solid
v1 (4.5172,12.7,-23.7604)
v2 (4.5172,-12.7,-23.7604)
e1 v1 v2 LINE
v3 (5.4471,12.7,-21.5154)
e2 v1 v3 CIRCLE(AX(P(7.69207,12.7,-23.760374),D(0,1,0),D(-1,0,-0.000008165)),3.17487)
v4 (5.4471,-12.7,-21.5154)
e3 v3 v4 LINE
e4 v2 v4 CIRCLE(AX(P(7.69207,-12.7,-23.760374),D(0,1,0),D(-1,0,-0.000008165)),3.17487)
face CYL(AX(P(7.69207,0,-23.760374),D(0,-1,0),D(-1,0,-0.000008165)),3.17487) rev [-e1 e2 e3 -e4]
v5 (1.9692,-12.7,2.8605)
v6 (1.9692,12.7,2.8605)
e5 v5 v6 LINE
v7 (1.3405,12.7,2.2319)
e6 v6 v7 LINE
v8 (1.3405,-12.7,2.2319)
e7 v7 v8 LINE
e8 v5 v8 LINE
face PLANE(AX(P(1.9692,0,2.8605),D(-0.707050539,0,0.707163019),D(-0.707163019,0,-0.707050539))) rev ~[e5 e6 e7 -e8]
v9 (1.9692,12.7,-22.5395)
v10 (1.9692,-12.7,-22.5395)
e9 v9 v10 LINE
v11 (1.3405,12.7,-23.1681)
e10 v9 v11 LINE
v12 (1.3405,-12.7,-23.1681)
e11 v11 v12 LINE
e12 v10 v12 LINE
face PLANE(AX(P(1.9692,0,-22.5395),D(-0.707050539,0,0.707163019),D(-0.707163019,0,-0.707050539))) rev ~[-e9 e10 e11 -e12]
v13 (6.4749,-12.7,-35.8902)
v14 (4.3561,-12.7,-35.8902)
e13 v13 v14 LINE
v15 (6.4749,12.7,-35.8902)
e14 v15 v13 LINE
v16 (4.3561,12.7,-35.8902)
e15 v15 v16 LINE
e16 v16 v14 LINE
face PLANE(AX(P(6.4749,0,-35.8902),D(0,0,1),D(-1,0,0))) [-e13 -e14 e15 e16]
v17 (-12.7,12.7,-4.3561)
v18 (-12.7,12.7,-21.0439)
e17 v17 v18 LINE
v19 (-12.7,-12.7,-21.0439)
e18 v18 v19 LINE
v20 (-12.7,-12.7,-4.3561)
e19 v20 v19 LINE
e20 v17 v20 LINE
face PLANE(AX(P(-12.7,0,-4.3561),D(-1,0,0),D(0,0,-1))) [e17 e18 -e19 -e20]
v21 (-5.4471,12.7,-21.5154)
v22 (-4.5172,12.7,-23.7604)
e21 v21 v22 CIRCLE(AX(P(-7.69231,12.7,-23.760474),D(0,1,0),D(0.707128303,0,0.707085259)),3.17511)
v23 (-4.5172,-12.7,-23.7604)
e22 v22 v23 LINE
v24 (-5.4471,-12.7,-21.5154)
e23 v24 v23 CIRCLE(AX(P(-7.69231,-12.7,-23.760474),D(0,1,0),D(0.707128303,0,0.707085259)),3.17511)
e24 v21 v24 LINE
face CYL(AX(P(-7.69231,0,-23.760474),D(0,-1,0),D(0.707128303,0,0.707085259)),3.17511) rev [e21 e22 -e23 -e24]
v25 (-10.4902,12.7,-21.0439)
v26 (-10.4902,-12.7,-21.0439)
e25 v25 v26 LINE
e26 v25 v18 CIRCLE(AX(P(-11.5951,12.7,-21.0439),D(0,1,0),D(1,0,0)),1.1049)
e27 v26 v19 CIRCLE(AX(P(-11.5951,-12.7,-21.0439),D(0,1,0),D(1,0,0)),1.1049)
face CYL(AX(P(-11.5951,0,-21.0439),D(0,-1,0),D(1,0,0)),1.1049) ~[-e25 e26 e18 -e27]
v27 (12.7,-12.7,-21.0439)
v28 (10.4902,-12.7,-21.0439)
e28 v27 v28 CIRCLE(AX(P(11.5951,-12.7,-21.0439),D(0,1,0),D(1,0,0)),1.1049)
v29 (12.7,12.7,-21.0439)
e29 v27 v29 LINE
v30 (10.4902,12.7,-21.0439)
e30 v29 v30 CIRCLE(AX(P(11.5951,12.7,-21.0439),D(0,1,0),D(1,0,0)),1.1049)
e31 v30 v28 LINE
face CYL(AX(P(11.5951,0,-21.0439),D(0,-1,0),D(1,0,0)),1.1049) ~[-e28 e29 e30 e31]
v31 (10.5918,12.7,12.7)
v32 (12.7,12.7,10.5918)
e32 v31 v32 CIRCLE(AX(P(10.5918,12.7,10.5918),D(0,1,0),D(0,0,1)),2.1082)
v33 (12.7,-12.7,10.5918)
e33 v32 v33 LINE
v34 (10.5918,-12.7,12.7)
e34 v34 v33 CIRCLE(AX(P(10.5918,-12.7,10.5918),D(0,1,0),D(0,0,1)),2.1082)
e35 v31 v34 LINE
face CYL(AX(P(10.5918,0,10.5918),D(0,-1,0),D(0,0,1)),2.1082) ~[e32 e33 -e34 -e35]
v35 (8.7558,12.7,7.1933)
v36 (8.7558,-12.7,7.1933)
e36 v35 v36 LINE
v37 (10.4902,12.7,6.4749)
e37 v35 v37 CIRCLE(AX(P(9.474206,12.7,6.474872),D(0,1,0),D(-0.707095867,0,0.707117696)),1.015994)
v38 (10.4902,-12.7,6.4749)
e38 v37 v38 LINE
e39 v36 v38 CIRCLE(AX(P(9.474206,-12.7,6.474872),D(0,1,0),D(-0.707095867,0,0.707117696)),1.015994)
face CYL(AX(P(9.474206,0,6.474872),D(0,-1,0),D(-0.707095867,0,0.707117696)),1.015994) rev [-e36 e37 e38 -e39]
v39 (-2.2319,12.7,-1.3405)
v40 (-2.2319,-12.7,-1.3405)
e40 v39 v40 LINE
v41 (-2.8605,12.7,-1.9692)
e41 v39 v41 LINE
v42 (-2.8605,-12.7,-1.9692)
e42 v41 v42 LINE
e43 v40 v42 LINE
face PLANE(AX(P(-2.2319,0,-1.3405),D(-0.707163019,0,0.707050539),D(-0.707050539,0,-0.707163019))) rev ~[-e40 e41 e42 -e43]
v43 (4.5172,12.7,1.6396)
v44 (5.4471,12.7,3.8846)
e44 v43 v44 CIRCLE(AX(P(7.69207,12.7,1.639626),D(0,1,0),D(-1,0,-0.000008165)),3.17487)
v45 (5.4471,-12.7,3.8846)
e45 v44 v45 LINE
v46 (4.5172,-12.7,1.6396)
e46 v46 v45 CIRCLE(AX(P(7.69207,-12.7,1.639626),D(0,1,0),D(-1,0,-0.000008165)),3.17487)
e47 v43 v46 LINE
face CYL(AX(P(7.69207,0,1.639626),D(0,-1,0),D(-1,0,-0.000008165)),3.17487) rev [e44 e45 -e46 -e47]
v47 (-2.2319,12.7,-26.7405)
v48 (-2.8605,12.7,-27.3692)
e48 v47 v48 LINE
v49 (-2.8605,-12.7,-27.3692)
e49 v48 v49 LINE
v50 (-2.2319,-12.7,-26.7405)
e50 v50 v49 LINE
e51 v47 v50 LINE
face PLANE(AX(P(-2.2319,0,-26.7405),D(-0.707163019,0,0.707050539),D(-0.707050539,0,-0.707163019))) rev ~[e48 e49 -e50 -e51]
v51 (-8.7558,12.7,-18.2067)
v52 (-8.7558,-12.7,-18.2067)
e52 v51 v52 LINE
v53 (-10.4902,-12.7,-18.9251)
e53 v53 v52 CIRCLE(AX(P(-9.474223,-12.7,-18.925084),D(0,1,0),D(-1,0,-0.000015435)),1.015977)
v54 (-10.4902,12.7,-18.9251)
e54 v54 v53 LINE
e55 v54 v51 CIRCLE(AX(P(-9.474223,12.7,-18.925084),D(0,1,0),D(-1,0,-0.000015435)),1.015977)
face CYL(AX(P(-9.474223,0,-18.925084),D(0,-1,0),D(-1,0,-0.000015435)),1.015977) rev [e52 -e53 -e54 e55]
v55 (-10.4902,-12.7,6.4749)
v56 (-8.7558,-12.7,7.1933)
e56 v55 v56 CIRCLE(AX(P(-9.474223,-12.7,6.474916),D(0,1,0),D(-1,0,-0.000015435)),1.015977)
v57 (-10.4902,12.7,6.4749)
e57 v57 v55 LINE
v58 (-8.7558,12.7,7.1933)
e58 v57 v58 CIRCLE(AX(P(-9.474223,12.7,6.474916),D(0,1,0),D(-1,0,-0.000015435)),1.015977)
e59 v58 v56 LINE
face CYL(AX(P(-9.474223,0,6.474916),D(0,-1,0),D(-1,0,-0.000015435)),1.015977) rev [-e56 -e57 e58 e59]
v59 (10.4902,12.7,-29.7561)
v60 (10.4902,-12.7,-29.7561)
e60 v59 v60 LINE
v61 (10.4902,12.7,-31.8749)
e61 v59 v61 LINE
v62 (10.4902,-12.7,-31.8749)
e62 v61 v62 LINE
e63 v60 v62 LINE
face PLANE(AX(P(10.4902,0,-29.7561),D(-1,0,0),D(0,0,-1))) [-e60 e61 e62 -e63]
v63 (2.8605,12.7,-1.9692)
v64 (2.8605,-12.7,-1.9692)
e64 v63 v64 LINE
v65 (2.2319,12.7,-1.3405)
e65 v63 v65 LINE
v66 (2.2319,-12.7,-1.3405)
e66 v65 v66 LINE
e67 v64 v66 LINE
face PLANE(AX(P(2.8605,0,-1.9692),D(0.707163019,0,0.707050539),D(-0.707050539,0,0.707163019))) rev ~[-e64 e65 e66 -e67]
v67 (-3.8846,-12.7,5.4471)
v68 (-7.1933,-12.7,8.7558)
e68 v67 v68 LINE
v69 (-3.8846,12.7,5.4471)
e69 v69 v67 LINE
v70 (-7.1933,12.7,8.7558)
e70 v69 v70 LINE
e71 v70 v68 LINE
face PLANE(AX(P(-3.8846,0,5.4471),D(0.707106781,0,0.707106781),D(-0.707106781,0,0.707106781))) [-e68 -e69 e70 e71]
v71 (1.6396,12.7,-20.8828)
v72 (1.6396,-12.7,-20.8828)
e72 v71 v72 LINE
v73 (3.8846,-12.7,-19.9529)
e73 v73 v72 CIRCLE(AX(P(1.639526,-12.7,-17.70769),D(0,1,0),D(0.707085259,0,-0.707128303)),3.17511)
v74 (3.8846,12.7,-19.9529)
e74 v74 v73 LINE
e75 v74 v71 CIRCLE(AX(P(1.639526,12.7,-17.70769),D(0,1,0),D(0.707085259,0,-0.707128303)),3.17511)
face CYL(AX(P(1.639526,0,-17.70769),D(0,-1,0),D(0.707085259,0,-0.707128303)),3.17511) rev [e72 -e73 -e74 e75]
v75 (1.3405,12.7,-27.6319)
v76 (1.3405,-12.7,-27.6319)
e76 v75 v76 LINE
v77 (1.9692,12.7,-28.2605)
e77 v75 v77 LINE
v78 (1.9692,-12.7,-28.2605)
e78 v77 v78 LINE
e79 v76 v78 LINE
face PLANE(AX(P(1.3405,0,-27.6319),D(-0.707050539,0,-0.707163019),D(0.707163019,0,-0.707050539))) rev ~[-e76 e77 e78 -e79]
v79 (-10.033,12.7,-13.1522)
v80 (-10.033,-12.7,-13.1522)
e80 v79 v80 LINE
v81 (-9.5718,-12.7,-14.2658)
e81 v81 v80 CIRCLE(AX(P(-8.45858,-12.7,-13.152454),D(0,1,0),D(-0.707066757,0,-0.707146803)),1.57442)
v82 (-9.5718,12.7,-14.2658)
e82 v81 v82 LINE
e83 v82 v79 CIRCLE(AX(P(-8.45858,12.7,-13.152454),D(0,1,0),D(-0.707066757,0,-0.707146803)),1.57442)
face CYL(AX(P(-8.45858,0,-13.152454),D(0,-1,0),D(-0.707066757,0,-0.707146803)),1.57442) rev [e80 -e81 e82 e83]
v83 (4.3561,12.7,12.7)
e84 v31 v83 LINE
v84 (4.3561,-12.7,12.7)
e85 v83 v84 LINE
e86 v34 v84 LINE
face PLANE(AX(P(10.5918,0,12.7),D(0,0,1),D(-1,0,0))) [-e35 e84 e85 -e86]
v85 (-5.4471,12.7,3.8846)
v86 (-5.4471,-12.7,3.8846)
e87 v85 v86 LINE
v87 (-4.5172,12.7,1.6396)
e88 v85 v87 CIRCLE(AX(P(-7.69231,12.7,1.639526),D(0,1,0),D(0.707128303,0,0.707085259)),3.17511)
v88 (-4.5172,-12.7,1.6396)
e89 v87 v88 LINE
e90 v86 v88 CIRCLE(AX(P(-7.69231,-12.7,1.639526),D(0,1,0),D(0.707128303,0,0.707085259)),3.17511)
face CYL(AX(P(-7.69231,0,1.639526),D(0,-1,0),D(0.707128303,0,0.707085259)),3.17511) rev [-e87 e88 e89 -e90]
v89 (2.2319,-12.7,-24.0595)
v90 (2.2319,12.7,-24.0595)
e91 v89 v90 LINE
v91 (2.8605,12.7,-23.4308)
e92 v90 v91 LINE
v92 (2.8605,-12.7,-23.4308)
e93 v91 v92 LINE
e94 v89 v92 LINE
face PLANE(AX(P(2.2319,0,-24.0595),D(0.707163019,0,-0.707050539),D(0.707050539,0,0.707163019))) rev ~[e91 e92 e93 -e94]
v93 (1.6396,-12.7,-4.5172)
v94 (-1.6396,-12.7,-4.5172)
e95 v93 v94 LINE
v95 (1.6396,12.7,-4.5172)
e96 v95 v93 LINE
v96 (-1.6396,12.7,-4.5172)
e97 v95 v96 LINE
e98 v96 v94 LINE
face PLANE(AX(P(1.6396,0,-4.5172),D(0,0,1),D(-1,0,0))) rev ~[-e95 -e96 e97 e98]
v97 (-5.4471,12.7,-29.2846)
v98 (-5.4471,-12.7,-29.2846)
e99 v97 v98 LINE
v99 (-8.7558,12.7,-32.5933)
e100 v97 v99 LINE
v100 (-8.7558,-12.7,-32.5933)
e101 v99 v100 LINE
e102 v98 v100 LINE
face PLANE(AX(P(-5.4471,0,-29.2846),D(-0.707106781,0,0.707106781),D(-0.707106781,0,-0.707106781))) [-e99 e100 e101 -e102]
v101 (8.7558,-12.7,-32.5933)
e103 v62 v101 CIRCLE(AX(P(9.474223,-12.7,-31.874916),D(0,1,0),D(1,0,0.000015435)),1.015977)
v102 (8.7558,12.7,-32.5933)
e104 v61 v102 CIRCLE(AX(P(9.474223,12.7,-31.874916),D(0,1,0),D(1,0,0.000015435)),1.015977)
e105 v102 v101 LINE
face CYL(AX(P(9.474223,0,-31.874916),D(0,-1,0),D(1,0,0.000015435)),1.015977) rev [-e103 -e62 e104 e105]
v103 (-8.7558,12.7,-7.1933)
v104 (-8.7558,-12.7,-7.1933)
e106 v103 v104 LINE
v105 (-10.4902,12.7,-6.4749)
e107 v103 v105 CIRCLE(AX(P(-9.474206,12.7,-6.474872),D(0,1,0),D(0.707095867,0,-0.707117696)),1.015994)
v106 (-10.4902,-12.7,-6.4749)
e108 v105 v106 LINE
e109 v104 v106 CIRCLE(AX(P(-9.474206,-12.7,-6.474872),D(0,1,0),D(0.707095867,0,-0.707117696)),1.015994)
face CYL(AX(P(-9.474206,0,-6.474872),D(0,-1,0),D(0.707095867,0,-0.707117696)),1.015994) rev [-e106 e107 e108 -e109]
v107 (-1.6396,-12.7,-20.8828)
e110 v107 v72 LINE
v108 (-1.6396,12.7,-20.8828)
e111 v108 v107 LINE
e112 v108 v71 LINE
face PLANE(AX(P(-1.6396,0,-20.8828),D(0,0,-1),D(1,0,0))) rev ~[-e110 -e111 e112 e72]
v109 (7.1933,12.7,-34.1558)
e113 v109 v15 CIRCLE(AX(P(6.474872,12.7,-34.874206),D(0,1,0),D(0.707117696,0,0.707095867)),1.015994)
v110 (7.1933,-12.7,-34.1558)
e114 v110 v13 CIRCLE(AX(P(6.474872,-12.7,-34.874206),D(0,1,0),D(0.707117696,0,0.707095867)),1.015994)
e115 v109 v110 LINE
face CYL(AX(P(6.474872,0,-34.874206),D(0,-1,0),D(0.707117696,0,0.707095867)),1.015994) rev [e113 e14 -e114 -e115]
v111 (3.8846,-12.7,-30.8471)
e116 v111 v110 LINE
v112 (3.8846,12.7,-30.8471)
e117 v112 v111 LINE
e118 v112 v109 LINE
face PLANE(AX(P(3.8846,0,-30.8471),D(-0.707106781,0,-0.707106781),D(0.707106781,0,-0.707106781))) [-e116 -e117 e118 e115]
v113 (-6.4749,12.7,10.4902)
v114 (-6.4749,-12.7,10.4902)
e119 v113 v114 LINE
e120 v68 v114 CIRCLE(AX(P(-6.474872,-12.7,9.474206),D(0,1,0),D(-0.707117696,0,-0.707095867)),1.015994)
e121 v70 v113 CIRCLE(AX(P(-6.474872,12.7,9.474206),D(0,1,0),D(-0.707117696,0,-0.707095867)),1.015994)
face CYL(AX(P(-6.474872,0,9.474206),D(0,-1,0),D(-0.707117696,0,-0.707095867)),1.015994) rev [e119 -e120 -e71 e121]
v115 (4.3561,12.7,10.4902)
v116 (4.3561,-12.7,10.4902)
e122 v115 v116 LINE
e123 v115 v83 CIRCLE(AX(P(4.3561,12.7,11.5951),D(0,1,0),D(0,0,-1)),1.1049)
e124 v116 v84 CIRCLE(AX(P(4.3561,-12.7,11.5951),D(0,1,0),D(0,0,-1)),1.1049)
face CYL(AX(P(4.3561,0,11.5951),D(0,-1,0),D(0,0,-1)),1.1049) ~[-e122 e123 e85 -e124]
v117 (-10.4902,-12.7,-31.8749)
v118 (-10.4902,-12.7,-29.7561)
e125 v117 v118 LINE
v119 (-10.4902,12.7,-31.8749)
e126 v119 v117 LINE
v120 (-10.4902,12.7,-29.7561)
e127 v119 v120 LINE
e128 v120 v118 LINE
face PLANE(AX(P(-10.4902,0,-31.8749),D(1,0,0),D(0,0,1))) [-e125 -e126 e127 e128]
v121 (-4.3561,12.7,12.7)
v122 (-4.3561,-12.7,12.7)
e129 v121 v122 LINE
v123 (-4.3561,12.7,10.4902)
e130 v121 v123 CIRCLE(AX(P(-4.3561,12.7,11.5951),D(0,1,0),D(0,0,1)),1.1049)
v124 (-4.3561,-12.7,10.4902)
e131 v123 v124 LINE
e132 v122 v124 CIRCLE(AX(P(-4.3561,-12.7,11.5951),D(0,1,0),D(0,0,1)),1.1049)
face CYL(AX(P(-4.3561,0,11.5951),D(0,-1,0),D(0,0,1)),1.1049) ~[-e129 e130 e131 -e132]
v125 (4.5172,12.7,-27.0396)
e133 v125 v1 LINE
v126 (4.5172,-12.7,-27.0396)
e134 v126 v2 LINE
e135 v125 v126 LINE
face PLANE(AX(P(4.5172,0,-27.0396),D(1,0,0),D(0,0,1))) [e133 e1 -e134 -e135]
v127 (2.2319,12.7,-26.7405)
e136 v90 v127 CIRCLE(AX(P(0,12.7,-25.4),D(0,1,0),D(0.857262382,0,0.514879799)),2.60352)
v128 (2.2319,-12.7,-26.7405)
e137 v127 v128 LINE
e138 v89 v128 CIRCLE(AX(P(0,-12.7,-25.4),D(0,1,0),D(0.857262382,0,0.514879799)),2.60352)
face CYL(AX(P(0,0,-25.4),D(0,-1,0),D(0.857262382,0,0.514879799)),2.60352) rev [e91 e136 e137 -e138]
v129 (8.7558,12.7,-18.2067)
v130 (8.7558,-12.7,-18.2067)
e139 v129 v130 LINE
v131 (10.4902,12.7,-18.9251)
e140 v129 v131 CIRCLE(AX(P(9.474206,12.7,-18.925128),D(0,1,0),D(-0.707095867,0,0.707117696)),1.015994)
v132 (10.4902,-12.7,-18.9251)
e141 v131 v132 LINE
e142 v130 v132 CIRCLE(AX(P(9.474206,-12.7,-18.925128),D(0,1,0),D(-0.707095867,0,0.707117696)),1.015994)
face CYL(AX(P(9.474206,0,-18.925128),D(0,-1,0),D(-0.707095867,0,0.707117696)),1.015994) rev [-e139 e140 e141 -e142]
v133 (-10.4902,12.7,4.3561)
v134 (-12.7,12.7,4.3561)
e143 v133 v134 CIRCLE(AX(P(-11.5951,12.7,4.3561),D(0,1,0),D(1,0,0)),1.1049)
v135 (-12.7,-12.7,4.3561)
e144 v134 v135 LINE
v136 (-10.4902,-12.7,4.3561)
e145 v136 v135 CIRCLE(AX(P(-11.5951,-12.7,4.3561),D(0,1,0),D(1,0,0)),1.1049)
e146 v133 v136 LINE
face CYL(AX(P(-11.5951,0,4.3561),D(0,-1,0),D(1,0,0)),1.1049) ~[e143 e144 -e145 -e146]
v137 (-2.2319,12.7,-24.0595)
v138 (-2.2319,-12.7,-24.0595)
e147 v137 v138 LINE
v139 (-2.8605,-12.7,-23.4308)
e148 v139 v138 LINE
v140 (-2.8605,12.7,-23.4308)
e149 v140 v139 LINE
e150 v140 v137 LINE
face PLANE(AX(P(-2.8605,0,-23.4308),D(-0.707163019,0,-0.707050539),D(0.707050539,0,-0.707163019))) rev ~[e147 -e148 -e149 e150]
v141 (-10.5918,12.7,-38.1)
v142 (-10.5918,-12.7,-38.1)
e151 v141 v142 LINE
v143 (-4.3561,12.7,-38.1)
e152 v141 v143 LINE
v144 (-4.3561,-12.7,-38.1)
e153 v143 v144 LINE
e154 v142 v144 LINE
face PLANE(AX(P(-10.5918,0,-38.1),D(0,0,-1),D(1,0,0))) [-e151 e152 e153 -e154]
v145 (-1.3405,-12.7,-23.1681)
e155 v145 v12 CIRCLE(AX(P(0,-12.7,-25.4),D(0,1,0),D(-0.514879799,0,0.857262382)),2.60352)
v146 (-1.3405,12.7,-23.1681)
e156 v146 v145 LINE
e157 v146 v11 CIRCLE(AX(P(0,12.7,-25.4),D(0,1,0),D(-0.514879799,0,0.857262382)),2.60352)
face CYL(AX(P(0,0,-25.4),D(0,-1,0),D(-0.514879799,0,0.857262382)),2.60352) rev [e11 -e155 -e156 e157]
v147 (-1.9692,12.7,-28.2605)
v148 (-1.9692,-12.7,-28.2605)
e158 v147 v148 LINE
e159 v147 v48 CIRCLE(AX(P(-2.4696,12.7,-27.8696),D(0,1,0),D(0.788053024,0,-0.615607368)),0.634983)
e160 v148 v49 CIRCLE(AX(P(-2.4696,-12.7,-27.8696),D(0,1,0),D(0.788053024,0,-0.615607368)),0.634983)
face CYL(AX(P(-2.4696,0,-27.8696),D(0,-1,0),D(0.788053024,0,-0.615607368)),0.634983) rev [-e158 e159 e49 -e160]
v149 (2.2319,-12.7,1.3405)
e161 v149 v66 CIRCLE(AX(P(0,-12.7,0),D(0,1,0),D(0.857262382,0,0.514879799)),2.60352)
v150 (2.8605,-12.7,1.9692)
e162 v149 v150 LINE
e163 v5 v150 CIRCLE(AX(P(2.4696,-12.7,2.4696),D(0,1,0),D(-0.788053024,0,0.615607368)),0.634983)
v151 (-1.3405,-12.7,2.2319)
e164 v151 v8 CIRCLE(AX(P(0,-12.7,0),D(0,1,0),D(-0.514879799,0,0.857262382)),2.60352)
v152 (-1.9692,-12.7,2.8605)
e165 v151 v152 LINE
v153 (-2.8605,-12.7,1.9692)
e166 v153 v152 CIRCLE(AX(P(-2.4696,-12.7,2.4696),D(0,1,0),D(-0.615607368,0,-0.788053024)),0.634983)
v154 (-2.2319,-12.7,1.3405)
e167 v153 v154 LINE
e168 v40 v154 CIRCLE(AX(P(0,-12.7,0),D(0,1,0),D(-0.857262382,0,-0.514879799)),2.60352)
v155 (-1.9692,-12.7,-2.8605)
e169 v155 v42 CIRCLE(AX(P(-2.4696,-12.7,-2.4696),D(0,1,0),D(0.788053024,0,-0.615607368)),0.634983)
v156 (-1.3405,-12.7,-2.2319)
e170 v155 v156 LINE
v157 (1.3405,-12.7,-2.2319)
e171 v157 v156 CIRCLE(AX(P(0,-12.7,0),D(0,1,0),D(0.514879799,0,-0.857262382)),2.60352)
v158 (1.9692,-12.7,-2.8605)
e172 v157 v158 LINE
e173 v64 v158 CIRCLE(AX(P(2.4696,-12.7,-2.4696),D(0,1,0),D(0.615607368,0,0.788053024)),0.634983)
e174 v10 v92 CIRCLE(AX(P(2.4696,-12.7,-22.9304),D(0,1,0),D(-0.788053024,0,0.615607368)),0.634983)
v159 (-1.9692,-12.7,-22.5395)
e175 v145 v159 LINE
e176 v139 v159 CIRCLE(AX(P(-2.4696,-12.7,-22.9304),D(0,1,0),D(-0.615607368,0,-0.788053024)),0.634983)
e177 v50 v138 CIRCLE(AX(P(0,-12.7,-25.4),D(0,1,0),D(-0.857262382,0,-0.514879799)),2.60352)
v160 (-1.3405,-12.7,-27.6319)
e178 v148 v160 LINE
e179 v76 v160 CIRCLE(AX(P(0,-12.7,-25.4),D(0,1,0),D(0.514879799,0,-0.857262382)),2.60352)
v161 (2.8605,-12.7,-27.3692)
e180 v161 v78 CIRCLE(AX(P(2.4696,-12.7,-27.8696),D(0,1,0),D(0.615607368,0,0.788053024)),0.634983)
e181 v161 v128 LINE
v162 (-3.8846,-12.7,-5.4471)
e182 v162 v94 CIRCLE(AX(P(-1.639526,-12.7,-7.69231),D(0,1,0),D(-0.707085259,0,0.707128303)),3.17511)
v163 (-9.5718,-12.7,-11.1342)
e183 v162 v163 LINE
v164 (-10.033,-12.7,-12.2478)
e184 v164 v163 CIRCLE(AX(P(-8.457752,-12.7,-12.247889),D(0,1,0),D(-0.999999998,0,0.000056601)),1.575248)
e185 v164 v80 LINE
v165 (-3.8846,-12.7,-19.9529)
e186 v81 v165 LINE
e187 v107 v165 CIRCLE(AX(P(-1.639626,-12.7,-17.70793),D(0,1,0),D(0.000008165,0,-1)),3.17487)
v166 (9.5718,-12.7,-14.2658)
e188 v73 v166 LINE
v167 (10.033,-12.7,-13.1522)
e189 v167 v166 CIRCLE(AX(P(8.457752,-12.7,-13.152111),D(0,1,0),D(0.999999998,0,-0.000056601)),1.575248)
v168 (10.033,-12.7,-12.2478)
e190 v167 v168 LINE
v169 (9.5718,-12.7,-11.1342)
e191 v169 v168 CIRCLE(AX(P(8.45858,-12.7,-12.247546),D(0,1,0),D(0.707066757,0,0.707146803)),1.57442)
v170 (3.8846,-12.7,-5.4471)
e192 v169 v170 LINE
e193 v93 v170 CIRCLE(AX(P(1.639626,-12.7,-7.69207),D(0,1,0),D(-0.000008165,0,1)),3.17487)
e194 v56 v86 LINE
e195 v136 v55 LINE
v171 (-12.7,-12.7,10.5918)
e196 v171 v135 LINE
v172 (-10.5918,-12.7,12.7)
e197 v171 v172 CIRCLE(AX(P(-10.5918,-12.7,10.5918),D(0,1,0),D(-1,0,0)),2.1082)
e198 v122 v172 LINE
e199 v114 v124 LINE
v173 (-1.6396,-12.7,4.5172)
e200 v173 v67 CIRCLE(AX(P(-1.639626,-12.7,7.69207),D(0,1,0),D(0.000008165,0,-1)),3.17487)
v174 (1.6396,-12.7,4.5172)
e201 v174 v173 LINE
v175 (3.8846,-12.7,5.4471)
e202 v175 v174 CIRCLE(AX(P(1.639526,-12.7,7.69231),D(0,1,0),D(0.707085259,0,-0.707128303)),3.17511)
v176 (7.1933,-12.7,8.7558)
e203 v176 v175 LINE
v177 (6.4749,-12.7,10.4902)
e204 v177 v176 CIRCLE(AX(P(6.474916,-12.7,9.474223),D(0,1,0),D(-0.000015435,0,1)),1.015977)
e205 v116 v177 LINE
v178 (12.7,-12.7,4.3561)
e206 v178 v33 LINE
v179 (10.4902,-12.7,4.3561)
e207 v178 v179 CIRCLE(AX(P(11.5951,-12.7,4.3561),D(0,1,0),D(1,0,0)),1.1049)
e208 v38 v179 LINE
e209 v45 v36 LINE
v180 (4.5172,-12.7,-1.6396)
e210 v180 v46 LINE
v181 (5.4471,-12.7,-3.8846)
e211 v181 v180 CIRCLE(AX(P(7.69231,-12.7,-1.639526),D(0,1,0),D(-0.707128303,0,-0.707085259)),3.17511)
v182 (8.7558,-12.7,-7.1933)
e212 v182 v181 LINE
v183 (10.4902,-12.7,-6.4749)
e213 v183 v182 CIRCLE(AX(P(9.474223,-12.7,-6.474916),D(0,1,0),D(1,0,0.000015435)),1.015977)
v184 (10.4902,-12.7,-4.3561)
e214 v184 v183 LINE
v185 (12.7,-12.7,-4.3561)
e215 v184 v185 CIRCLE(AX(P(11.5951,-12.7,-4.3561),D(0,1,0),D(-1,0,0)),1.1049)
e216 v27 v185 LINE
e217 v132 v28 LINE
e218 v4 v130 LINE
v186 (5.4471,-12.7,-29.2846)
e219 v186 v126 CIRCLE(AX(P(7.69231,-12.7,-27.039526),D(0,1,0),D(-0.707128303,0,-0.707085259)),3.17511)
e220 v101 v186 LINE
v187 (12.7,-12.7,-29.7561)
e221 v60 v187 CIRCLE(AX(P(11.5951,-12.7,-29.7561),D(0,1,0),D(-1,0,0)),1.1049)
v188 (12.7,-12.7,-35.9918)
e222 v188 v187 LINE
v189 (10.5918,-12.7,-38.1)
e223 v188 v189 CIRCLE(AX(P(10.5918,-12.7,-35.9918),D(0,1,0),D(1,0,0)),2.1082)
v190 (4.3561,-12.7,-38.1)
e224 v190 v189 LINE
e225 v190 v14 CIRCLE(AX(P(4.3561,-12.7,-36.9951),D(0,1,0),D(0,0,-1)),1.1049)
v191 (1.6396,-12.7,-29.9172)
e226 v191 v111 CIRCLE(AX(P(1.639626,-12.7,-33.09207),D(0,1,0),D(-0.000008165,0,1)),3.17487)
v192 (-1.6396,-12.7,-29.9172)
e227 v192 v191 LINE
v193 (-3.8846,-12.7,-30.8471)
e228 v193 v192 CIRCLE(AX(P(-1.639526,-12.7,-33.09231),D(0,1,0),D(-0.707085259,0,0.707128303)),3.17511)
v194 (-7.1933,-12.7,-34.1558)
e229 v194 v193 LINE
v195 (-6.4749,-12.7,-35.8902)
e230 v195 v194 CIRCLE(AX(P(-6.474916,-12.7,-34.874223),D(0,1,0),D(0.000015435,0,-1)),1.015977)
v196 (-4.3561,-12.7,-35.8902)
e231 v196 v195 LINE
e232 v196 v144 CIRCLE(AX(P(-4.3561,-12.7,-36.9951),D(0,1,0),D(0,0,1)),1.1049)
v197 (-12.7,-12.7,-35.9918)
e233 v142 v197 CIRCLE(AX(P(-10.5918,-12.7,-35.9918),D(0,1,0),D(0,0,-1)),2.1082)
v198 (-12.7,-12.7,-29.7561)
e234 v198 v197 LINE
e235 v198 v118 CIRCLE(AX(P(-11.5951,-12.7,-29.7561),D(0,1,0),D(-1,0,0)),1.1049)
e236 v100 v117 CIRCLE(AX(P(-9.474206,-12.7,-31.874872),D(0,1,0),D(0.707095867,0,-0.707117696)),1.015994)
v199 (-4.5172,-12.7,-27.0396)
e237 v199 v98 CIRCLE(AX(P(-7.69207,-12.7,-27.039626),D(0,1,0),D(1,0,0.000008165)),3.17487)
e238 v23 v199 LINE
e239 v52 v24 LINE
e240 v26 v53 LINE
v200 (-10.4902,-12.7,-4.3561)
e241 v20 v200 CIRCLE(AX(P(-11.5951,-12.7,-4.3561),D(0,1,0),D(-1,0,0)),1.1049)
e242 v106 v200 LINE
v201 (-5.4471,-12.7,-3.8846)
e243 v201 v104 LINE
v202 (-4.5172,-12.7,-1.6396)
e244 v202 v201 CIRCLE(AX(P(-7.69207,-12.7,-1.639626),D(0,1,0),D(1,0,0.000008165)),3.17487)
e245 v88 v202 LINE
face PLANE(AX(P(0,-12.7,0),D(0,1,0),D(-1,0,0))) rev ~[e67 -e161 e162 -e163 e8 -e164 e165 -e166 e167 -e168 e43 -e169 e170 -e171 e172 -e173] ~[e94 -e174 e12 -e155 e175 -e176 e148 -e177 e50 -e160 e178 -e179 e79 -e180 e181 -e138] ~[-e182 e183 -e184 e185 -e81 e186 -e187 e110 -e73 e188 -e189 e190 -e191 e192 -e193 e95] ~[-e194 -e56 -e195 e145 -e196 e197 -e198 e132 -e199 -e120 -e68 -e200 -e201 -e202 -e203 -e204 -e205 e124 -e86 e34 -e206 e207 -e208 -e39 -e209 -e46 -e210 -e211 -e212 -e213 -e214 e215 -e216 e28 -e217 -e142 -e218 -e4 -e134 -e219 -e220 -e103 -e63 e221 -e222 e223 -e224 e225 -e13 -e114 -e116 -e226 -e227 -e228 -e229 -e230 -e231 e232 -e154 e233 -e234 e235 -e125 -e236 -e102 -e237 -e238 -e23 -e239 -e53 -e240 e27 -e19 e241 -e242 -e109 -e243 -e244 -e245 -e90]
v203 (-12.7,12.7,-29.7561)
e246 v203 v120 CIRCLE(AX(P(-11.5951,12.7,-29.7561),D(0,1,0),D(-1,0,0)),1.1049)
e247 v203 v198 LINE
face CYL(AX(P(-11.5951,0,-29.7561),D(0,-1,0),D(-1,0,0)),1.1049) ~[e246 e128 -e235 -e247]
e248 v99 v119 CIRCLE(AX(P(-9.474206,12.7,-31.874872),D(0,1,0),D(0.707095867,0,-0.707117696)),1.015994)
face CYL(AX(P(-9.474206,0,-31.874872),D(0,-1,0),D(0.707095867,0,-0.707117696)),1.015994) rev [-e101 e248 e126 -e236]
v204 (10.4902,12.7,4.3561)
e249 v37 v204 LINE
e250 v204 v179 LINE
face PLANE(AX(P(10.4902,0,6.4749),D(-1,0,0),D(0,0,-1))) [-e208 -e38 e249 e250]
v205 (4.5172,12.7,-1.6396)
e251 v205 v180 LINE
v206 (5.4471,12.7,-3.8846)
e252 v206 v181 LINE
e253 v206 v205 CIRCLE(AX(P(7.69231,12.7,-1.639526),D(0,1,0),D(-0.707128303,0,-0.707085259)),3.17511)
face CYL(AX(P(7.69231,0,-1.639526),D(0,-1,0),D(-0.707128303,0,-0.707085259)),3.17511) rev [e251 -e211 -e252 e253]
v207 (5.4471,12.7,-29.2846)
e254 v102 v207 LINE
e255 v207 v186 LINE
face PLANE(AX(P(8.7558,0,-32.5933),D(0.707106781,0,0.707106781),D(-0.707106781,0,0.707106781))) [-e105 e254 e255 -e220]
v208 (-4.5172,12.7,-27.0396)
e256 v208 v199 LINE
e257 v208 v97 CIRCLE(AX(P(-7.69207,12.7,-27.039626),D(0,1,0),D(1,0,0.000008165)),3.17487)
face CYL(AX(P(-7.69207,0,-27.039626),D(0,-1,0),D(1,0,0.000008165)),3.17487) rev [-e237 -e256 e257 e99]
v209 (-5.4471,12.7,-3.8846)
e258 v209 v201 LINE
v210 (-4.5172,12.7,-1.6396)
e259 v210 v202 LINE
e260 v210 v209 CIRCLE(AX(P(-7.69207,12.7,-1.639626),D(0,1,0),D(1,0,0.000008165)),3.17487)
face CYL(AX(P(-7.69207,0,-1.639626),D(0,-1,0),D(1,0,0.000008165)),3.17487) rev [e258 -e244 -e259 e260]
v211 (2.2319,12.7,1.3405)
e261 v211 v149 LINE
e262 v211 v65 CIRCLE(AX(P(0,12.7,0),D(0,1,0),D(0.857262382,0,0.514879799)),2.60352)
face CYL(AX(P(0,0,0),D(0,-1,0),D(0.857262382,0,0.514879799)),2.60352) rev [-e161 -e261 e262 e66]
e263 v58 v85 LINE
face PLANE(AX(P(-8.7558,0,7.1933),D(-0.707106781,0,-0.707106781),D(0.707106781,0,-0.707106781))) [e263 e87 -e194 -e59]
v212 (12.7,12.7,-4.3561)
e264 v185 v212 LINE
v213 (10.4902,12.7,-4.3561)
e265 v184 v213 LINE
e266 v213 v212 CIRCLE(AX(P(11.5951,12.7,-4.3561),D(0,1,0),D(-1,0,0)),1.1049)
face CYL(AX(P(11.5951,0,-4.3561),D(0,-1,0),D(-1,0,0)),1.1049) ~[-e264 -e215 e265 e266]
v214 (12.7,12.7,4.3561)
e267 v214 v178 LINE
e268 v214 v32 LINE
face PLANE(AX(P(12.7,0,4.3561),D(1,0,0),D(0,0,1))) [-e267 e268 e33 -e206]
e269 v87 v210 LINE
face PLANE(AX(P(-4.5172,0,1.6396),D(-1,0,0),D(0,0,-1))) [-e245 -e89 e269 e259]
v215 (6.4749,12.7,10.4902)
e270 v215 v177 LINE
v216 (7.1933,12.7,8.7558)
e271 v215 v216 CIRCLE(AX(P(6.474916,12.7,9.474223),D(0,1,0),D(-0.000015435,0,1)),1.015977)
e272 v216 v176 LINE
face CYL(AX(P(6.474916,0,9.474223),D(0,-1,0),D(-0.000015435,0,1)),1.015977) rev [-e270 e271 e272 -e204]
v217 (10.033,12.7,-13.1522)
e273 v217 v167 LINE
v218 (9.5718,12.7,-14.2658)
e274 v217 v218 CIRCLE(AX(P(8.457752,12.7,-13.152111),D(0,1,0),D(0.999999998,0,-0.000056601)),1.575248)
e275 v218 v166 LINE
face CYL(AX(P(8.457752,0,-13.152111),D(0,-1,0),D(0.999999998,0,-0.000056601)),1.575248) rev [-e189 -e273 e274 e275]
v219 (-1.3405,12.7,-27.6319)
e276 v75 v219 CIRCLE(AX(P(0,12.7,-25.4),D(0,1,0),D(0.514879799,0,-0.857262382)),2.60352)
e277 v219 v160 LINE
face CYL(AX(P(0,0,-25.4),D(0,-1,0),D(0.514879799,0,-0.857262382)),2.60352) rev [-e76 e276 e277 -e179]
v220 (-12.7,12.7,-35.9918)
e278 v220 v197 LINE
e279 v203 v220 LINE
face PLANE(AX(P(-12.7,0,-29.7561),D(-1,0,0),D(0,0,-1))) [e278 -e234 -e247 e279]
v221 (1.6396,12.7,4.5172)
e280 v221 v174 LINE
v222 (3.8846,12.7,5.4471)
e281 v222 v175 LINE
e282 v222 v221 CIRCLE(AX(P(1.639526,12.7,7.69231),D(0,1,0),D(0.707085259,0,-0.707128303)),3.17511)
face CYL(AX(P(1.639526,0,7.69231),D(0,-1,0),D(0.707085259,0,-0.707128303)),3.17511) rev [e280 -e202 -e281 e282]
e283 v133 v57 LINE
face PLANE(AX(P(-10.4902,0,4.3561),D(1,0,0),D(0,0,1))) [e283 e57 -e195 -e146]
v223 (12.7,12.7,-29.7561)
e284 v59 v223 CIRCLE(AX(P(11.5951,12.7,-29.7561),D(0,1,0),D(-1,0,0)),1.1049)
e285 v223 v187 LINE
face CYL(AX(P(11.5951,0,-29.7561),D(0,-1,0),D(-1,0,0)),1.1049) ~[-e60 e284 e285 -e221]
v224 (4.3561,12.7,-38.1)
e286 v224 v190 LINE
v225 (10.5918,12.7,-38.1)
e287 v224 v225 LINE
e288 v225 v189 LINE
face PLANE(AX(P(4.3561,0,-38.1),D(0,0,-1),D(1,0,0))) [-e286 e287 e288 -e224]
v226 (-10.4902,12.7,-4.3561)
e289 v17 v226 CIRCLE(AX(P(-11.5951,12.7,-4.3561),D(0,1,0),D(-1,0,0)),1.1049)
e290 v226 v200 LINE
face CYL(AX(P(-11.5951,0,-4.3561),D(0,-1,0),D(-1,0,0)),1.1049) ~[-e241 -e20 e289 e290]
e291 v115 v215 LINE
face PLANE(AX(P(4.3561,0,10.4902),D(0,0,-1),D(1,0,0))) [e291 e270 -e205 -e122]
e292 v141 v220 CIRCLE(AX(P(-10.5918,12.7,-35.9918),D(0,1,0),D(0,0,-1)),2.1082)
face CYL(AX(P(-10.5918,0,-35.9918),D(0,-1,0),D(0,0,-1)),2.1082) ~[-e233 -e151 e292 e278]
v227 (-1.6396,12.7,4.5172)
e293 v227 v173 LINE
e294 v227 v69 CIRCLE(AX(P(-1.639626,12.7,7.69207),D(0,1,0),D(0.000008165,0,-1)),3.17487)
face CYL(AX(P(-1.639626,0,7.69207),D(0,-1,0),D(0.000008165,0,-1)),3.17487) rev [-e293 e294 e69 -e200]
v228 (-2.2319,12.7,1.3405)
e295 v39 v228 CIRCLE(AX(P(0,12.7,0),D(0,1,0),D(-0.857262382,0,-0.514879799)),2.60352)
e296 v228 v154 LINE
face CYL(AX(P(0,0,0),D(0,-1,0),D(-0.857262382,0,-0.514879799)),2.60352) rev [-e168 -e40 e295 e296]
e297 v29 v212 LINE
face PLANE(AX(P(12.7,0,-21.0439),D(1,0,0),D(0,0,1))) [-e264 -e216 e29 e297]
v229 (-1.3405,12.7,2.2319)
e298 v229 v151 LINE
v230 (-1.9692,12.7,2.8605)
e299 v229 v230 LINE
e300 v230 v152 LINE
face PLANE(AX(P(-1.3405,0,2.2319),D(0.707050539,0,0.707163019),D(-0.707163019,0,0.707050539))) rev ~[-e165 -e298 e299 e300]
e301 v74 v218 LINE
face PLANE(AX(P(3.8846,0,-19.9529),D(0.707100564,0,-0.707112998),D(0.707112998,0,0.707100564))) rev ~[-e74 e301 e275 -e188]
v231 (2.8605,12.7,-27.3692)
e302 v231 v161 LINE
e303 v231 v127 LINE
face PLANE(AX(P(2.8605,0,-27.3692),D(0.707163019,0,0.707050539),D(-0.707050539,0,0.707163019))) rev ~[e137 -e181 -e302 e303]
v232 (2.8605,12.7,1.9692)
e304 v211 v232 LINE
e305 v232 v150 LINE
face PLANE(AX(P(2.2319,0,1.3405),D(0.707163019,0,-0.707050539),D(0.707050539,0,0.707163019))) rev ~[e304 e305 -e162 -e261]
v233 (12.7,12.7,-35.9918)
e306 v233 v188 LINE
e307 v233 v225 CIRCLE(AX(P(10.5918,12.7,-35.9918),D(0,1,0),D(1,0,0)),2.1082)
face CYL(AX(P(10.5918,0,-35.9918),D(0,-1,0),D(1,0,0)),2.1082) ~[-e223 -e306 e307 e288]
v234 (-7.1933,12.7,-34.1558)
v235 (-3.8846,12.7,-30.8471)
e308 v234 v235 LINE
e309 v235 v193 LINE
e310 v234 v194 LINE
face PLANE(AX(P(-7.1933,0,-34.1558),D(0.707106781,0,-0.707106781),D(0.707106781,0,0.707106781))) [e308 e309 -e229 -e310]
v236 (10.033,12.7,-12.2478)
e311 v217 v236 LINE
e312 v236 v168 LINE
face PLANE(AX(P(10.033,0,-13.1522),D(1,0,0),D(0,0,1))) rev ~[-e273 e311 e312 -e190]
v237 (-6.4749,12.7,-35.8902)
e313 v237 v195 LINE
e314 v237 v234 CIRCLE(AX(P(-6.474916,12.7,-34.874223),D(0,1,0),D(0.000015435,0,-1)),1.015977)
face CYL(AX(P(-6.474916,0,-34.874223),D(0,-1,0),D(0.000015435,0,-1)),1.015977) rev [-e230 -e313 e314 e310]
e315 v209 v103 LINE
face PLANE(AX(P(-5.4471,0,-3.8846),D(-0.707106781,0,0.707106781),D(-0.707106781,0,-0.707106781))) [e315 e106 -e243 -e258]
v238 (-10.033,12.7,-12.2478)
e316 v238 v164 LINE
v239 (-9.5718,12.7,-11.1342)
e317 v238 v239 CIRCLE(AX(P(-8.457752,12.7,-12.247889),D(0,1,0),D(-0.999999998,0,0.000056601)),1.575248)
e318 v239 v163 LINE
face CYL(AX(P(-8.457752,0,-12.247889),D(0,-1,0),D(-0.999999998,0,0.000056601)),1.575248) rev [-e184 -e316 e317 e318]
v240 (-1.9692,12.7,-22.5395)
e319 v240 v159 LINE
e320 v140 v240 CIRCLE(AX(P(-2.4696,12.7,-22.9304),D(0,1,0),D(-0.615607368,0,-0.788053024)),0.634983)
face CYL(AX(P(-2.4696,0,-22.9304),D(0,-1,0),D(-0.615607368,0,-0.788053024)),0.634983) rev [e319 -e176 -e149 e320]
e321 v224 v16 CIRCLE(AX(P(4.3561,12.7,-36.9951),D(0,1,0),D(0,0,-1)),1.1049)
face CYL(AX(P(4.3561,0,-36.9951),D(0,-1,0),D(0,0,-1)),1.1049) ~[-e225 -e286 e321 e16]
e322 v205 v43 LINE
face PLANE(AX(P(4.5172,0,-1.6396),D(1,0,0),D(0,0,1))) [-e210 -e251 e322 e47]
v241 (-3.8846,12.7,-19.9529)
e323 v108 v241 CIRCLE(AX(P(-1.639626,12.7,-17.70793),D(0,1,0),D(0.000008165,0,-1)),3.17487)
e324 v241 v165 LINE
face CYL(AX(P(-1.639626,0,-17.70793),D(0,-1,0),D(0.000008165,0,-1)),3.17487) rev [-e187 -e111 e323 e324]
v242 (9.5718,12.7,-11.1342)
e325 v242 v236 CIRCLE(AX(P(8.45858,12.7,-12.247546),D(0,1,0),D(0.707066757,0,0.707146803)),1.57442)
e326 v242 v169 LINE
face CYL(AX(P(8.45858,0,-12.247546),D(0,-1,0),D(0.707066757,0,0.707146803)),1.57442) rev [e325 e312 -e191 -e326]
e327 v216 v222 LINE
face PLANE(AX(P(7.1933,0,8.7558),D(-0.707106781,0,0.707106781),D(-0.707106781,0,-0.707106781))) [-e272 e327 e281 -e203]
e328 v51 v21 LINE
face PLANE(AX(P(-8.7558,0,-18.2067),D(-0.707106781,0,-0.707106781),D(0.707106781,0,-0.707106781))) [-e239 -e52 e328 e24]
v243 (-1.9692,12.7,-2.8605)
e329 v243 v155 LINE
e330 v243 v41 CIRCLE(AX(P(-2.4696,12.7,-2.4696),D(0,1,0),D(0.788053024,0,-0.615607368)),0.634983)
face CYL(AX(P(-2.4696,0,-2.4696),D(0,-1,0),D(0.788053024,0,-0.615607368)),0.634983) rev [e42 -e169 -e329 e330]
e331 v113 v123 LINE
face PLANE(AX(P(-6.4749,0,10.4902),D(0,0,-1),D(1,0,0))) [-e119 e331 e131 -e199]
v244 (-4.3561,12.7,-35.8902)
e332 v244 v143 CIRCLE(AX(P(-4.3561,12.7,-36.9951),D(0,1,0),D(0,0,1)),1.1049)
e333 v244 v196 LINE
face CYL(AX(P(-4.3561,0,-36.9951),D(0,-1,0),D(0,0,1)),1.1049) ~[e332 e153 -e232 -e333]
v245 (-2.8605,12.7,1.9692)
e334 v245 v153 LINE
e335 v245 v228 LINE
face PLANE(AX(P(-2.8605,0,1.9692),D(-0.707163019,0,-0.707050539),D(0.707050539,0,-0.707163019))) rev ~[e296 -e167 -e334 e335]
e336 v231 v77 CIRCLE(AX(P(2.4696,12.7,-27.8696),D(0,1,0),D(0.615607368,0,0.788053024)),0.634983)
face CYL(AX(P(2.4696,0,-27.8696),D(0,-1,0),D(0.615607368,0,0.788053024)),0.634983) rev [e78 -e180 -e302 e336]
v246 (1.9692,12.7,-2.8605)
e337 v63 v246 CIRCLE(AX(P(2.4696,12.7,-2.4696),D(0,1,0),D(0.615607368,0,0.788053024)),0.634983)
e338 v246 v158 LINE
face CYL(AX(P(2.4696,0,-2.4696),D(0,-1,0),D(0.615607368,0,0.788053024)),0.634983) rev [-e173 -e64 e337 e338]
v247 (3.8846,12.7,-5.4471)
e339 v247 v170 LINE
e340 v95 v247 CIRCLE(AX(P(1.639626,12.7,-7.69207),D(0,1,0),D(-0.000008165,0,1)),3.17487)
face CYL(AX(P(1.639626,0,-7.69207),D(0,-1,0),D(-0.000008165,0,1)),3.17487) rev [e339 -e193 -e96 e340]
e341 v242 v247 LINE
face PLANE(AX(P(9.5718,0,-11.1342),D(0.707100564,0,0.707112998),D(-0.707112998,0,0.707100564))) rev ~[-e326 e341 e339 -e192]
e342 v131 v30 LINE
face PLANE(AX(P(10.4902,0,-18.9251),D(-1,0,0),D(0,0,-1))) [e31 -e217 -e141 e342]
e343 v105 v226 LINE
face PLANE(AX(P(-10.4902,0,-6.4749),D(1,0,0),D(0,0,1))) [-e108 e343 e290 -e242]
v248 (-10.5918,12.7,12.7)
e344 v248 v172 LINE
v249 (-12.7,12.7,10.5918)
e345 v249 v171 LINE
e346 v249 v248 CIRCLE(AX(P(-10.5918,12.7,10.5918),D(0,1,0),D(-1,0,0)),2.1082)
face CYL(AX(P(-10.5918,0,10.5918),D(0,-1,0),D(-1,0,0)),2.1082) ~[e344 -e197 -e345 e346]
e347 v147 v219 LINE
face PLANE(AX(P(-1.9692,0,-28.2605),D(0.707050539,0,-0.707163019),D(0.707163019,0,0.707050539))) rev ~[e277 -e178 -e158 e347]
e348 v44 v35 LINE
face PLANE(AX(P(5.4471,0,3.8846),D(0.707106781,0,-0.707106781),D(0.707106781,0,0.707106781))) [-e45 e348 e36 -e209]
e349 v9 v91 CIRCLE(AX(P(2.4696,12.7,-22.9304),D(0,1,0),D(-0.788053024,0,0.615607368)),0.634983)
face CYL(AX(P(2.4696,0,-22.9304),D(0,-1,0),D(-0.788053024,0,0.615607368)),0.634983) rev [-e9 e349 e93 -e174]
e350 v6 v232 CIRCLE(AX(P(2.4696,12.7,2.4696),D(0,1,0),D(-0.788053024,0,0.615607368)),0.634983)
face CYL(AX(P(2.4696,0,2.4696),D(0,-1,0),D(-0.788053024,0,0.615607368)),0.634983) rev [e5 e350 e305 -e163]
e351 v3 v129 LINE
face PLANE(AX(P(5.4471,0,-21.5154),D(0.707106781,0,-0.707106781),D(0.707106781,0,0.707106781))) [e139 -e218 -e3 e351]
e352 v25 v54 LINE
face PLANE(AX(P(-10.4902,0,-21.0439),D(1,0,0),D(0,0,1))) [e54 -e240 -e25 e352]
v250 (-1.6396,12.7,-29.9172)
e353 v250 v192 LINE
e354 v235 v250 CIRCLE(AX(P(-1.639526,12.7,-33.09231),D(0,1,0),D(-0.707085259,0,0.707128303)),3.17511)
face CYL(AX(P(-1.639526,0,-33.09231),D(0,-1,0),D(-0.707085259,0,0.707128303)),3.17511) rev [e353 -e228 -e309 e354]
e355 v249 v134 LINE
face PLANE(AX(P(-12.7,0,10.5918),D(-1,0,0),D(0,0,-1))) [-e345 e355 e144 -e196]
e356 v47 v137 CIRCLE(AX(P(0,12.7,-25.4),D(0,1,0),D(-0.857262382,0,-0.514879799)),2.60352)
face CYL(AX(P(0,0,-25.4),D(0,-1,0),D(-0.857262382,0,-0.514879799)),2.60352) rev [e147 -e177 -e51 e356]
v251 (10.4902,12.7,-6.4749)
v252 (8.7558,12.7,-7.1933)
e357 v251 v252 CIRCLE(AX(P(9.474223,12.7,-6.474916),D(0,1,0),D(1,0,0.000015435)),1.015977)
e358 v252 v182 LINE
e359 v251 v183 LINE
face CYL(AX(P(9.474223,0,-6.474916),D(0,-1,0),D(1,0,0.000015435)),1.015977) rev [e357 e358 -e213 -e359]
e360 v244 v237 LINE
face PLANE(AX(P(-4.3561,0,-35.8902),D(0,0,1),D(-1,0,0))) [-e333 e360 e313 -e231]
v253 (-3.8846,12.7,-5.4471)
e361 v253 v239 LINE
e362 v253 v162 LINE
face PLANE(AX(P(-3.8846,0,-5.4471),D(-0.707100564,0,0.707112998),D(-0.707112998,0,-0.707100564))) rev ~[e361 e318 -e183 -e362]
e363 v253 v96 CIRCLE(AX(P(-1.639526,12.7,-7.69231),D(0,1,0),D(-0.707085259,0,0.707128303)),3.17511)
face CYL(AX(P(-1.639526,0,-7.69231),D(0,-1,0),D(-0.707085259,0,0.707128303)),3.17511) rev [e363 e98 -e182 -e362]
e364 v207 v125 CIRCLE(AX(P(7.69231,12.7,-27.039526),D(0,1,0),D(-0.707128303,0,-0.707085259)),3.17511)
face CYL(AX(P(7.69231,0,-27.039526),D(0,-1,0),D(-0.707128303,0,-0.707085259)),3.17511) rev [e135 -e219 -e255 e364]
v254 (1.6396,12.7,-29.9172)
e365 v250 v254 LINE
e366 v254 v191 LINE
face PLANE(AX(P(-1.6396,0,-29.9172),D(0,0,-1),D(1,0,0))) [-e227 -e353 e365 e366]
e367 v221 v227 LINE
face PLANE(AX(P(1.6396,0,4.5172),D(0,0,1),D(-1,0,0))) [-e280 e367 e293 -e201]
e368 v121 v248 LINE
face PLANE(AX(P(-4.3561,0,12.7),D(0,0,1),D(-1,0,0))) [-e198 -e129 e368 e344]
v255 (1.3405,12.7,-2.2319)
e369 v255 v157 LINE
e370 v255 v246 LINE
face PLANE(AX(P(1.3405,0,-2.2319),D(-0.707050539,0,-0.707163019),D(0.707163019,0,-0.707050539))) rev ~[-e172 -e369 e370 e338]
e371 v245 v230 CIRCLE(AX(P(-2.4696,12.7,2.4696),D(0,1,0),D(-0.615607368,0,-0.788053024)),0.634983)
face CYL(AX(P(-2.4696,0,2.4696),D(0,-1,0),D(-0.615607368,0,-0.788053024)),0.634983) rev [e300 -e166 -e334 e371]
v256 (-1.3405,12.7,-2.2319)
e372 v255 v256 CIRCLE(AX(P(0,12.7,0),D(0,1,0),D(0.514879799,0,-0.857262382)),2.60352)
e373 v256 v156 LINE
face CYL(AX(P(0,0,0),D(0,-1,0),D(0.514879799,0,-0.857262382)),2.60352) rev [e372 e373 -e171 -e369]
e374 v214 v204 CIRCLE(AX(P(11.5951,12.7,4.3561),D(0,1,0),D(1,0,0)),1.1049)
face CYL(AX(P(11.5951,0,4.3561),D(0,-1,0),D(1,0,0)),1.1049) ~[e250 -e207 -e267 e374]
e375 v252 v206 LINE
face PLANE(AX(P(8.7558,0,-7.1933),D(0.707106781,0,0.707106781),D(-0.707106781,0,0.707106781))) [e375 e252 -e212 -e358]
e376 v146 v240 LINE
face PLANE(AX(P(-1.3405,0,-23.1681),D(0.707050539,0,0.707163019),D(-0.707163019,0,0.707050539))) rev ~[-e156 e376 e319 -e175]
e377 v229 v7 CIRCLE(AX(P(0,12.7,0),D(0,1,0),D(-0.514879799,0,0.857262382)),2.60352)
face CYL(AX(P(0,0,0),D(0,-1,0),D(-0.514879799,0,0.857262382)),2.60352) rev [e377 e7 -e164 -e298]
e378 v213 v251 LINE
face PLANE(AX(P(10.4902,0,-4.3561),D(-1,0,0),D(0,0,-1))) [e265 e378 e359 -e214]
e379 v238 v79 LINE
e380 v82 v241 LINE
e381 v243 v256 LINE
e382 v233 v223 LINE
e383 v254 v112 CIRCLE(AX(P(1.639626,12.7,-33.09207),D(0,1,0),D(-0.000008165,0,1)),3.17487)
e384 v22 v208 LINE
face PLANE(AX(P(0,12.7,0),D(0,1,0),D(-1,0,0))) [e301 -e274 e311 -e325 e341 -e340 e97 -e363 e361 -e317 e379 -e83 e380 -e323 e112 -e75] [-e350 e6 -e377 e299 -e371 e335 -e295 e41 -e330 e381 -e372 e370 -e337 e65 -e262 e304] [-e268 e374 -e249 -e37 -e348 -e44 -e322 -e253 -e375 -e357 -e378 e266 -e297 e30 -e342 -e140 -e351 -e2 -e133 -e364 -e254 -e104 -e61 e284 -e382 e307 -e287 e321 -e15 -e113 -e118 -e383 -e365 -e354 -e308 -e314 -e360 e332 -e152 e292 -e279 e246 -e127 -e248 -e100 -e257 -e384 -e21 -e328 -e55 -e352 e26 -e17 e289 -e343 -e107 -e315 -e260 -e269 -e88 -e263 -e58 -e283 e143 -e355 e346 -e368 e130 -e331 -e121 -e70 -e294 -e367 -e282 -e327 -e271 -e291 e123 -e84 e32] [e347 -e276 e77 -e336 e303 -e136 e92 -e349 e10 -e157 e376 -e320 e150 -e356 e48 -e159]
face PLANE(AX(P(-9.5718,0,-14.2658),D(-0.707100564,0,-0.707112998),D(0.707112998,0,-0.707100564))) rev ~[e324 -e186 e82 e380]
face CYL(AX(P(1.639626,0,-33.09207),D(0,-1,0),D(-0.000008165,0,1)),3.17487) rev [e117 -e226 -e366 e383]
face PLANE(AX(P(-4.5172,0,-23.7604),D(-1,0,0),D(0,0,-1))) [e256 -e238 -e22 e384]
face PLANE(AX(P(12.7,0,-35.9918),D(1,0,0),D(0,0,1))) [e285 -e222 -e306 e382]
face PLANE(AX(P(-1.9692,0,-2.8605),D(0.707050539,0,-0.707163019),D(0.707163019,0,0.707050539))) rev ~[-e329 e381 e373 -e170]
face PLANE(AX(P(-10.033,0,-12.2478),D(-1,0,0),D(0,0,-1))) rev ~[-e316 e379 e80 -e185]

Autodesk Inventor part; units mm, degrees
ref_plane "YZ Plane" through (0, 0, 0) normal (1, 0, 0) x (0, 1, 0)
ref_plane "XZ Plane" through (0, 0, 0) normal (0, 1, 0) x (-1, 0, 0)
ref_plane "XY Plane" through (0, 0, 0) normal (0, 0, 1) x (1, 0, 0)
sketch "Sketch1" plane through (0, 0, 0) normal (0, 1, 0) x (-1, 0, 0)
  arc A0 (9.5718, -14.2658) -> (10.033, -13.1522) centre (8.4582, -13.1522) ccw
  line L0 (10.033, -12.2478) -> (10.033, -13.1522)
  arc A1 (10.033, -12.2478) -> (9.5718, -11.1342) centre (8.4582, -12.2478) ccw
  line L1 (3.8846, -5.4471) -> (9.5718, -11.1342)
  arc A2 (3.8846, -5.4471) -> (1.6396, -4.5172) centre (1.6396, -7.6922) ccw
  line L2 (-1.6396, -4.5172) -> (1.6396, -4.5172)
  arc A3 (-1.6396, -4.5172) -> (-3.8846, -5.4471) centre (-1.6396, -7.6922) ccw
  line L3 (-9.5718, -11.1342) -> (-3.8846, -5.4471)
  arc A4 (-9.5718, -11.1342) -> (-10.033, -12.2478) centre (-8.4582, -12.2478) ccw
  line L4 (-10.033, -13.1522) -> (-10.033, -12.2478)
  arc A5 (-10.033, -13.1522) -> (-9.5718, -14.2658) centre (-8.4582, -13.1522) ccw
  line L5 (-3.8846, -19.9529) -> (-9.5718, -14.2658)
  arc A6 (-3.8846, -19.9529) -> (-1.6396, -20.8828) centre (-1.6396, -17.7078) ccw
  line L6 (1.6396, -20.8828) -> (-1.6396, -20.8828)
  arc A7 (1.6396, -20.8828) -> (3.8846, -19.9529) centre (1.6396, -17.7078) ccw
  line L7 (9.5718, -14.2658) -> (3.8846, -19.9529)
  arc A8 (-1.9692, 2.8605) -> (-2.8605, 1.9692) centre (-2.4696, 2.4696) ccw
  line L8 (-2.2319, 1.3405) -> (-2.8605, 1.9692)
  arc A9 (-2.2319, 1.3405) -> (-2.2319, -1.3405) centre (0, 0) ccw
  line L9 (-2.8605, -1.9692) -> (-2.2319, -1.3405)
  arc A10 (-2.8605, -1.9692) -> (-1.9692, -2.8605) centre (-2.4696, -2.4696) ccw
  line L10 (-1.3405, -2.2319) -> (-1.9692, -2.8605)
  arc A11 (-1.3405, -2.2319) -> (1.3405, -2.2319) centre (0, 0) ccw
  line L11 (1.9692, -2.8605) -> (1.3405, -2.2319)
  arc A12 (1.9692, -2.8605) -> (2.8605, -1.9692) centre (2.4696, -2.4696) ccw
  line L12 (2.2319, -1.3405) -> (2.8605, -1.9692)
  arc A13 (2.2319, -1.3405) -> (2.2319, 1.3405) centre (0, 0) ccw
  line L13 (2.8605, 1.9692) -> (2.2319, 1.3405)
  arc A14 (2.8605, 1.9692) -> (1.9692, 2.8605) centre (2.4696, 2.4696) ccw
  line L14 (1.3405, 2.2319) -> (1.9692, 2.8605)
  arc A15 (1.3405, 2.2319) -> (-1.3405, 2.2319) centre (0, 0) ccw
  line L15 (-1.9692, 2.8605) -> (-1.3405, 2.2319)
  arc A16 (-2.2319, -24.0595) -> (-2.2319, -26.7405) centre (0, -25.4) ccw
  line L16 (-2.8605, -27.3692) -> (-2.2319, -26.7405)
  arc A17 (-2.8605, -27.3692) -> (-1.9692, -28.2605) centre (-2.4696, -27.8696) ccw
  line L17 (-1.3405, -27.6319) -> (-1.9692, -28.2605)
  arc A18 (-1.3405, -27.6319) -> (1.3405, -27.6319) centre (0, -25.4) ccw
  line L18 (1.9692, -28.2605) -> (1.3405, -27.6319)
  arc A19 (1.9692, -28.2605) -> (2.8605, -27.3692) centre (2.4696, -27.8696) ccw
  line L19 (2.2319, -26.7405) -> (2.8605, -27.3692)
  arc A20 (2.2319, -26.7405) -> (2.2319, -24.0595) centre (0, -25.4) ccw
  line L20 (2.8605, -23.4308) -> (2.2319, -24.0595)
  arc A21 (2.8605, -23.4308) -> (1.9692, -22.5395) centre (2.4696, -22.9304) ccw
  line L21 (1.3405, -23.1681) -> (1.9692, -22.5395)
  arc A22 (1.3405, -23.1681) -> (-1.3405, -23.1681) centre (0, -25.4) ccw
  line L22 (-1.9692, -22.5395) -> (-1.3405, -23.1681)
  arc A23 (-1.9692, -22.5395) -> (-2.8605, -23.4308) centre (-2.4696, -22.9304) ccw
  line L23 (-2.2319, -24.0595) -> (-2.8605, -23.4308)
  arc A24 (-10.4902, -4.3561) -> (-12.7, -4.3561) centre (-11.5951, -4.3561) ccw
  line L24 (-10.4902, -4.3561) -> (-10.4902, -6.4749)
  arc A25 (-10.4902, -6.4749) -> (-8.7558, -7.1933) centre (-9.4742, -6.4749) ccw
  line L25 (-8.7558, -7.1933) -> (-5.4471, -3.8846)
  arc A26 (-5.4471, -3.8846) -> (-4.5172, -1.6396) centre (-7.6922, -1.6396) ccw
  line L26 (-4.5172, -1.6396) -> (-4.5172, 1.6396)
  arc A27 (-4.5172, 1.6396) -> (-5.4471, 3.8846) centre (-7.6922, 1.6396) ccw
  line L27 (-5.4471, 3.8846) -> (-8.7558, 7.1933)
  arc A28 (-8.7558, 7.1933) -> (-10.4902, 6.4749) centre (-9.4742, 6.4749) ccw
  line L28 (-10.4902, 6.4749) -> (-10.4902, 4.3561)
  arc A29 (-12.7, 4.3561) -> (-10.4902, 4.3561) centre (-11.5951, 4.3561) ccw
  line L29 (-12.7, 4.3561) -> (-12.7, 10.5918)
  arc A30 (-10.5918, 12.7) -> (-12.7, 10.5918) centre (-10.5918, 10.5918) ccw
  line L30 (-10.5918, 12.7) -> (-4.3561, 12.7)
  arc A31 (-4.3561, 10.4902) -> (-4.3561, 12.7) centre (-4.3561, 11.5951) ccw
  line L31 (-4.3561, 10.4902) -> (-6.4749, 10.4902)
  arc A32 (-6.4749, 10.4902) -> (-7.1933, 8.7558) centre (-6.4749, 9.4742) ccw
  line L32 (-7.1933, 8.7558) -> (-3.8846, 5.4471)
  arc A33 (-3.8846, 5.4471) -> (-1.6396, 4.5172) centre (-1.6396, 7.6922) ccw
  line L33 (-1.6396, 4.5172) -> (1.6396, 4.5172)
  arc A34 (1.6396, 4.5172) -> (3.8846, 5.4471) centre (1.6396, 7.6922) ccw
  line L34 (3.8846, 5.4471) -> (7.1933, 8.7558)
  arc A35 (7.1933, 8.7558) -> (6.4749, 10.4902) centre (6.4749, 9.4742) ccw
  line L35 (6.4749, 10.4902) -> (4.3561, 10.4902)
  arc A36 (4.3561, 12.7) -> (4.3561, 10.4902) centre (4.3561, 11.5951) ccw
  line L36 (4.3561, 12.7) -> (10.5918, 12.7)
  arc A37 (12.7, 10.5918) -> (10.5918, 12.7) centre (10.5918, 10.5918) ccw
  line L37 (12.7, 10.5918) -> (12.7, 4.3561)
  arc A38 (10.4902, 4.3561) -> (12.7, 4.3561) centre (11.5951, 4.3561) ccw
  line L38 (10.4902, 4.3561) -> (10.4902, 6.4749)
  arc A39 (10.4902, 6.4749) -> (8.7558, 7.1933) centre (9.4742, 6.4749) ccw
  line L39 (8.7558, 7.1933) -> (5.4471, 3.8846)
  arc A40 (5.4471, 3.8846) -> (4.5172, 1.6396) centre (7.6922, 1.6396) ccw
  line L40 (4.5172, 1.6396) -> (4.5172, -1.6396)
  arc A41 (4.5172, -1.6396) -> (5.4471, -3.8846) centre (7.6922, -1.6396) ccw
  line L41 (5.4471, -3.8846) -> (8.7558, -7.1933)
  arc A42 (8.7558, -7.1933) -> (10.4902, -6.4749) centre (9.4742, -6.4749) ccw
  line L42 (10.4902, -6.4749) -> (10.4902, -4.3561)
  arc A43 (12.7, -4.3561) -> (10.4902, -4.3561) centre (11.5951, -4.3561) ccw
  line L43 (12.7, -4.3561) -> (12.7, -21.0439)
  arc A44 (10.4902, -21.0439) -> (12.7, -21.0439) centre (11.5951, -21.0439) ccw
  line L44 (10.4902, -21.0439) -> (10.4902, -18.9251)
  arc A45 (10.4902, -18.9251) -> (8.7558, -18.2067) centre (9.4742, -18.9251) ccw
  line L45 (8.7558, -18.2067) -> (5.4471, -21.5154)
  arc A46 (5.4471, -21.5154) -> (4.5172, -23.7604) centre (7.6922, -23.7604) ccw
  line L46 (4.5172, -23.7604) -> (4.5172, -27.0396)
  arc A47 (4.5172, -27.0396) -> (5.4471, -29.2846) centre (7.6922, -27.0396) ccw
  line L47 (5.4471, -29.2846) -> (8.7558, -32.5933)
  arc A48 (8.7558, -32.5933) -> (10.4902, -31.8749) centre (9.4742, -31.8749) ccw
  line L48 (10.4902, -31.8749) -> (10.4902, -29.7561)
  arc A49 (12.7, -29.7561) -> (10.4902, -29.7561) centre (11.5951, -29.7561) ccw
  line L49 (12.7, -29.7561) -> (12.7, -35.9918)
  arc A50 (10.5918, -38.1) -> (12.7, -35.9918) centre (10.5918, -35.9918) ccw
  line L50 (10.5918, -38.1) -> (4.3561, -38.1)
  arc A51 (4.3561, -35.8902) -> (4.3561, -38.1) centre (4.3561, -36.9951) ccw
  line L51 (4.3561, -35.8902) -> (6.4749, -35.8902)
  arc A52 (6.4749, -35.8902) -> (7.1933, -34.1558) centre (6.4749, -34.8742) ccw
  line L52 (7.1933, -34.1558) -> (3.8846, -30.8471)
  arc A53 (3.8846, -30.8471) -> (1.6396, -29.9172) centre (1.6396, -33.0922) ccw
  line L53 (1.6396, -29.9172) -> (-1.6396, -29.9172)
  arc A54 (-1.6396, -29.9172) -> (-3.8846, -30.8471) centre (-1.6396, -33.0922) ccw
  line L54 (-3.8846, -30.8471) -> (-7.1933, -34.1558)
  arc A55 (-7.1933, -34.1558) -> (-6.4749, -35.8902) centre (-6.4749, -34.8742) ccw
  line L55 (-6.4749, -35.8902) -> (-4.3561, -35.8902)
  arc A56 (-4.3561, -38.1) -> (-4.3561, -35.8902) centre (-4.3561, -36.9951) ccw
  line L56 (-4.3561, -38.1) -> (-10.5918, -38.1)
  arc A57 (-12.7, -35.9918) -> (-10.5918, -38.1) centre (-10.5918, -35.9918) ccw
  line L57 (-12.7, -35.9918) -> (-12.7, -29.7561)
  arc A58 (-10.4902, -29.7561) -> (-12.7, -29.7561) centre (-11.5951, -29.7561) ccw
  line L58 (-10.4902, -29.7561) -> (-10.4902, -31.8749)
  arc A59 (-10.4902, -31.8749) -> (-8.7558, -32.5933) centre (-9.4742, -31.8749) ccw
  line L59 (-8.7558, -32.5933) -> (-5.4471, -29.2846)
  arc A60 (-5.4471, -29.2846) -> (-4.5172, -27.0396) centre (-7.6922, -27.0396) ccw
  line L60 (-4.5172, -27.0396) -> (-4.5172, -23.7604)
  arc A61 (-4.5172, -23.7604) -> (-5.4471, -21.5154) centre (-7.6922, -23.7604) ccw
  line L61 (-5.4471, -21.5154) -> (-8.7558, -18.2067)
  arc A62 (-8.7558, -18.2067) -> (-10.4902, -18.9251) centre (-9.4742, -18.9251) ccw
  line L62 (-10.4902, -18.9251) -> (-10.4902, -21.0439)
  arc A63 (-12.7, -21.0439) -> (-10.4902, -21.0439) centre (-11.5951, -21.0439) ccw
  line L63 (-12.7, -21.0439) -> (-12.7, -4.3561)
  point P0 (0, 0)
  dimension "d277" = 1.5748
  dimension "d278" = 3.175
  dimension "d322" = 2.667
  dimension "d323" = 8.1828
  dimension "d324" = 17.2172
  dimension "d325" = 22.733
  dimension "d328" = 8.1828
  dimension "d329" = 17.2172
  dimension "d330" = 33.5828
  dimension "d331" = 42.6172
  dimension "d333" = 15.7509
  dimension "d345" = 20.1702
  dimension "d447" = 2.2096
  dimension "d506" = 1.016
  dimension "d523" = 17.9605
  dimension "d532" = 17.9605
  dimension "d541" = 2.2096
extrude "Extrusion1" add sketch "Sketch1" along normal mid plane 25.4
properties part number "1020-S" material "6105-T5"
